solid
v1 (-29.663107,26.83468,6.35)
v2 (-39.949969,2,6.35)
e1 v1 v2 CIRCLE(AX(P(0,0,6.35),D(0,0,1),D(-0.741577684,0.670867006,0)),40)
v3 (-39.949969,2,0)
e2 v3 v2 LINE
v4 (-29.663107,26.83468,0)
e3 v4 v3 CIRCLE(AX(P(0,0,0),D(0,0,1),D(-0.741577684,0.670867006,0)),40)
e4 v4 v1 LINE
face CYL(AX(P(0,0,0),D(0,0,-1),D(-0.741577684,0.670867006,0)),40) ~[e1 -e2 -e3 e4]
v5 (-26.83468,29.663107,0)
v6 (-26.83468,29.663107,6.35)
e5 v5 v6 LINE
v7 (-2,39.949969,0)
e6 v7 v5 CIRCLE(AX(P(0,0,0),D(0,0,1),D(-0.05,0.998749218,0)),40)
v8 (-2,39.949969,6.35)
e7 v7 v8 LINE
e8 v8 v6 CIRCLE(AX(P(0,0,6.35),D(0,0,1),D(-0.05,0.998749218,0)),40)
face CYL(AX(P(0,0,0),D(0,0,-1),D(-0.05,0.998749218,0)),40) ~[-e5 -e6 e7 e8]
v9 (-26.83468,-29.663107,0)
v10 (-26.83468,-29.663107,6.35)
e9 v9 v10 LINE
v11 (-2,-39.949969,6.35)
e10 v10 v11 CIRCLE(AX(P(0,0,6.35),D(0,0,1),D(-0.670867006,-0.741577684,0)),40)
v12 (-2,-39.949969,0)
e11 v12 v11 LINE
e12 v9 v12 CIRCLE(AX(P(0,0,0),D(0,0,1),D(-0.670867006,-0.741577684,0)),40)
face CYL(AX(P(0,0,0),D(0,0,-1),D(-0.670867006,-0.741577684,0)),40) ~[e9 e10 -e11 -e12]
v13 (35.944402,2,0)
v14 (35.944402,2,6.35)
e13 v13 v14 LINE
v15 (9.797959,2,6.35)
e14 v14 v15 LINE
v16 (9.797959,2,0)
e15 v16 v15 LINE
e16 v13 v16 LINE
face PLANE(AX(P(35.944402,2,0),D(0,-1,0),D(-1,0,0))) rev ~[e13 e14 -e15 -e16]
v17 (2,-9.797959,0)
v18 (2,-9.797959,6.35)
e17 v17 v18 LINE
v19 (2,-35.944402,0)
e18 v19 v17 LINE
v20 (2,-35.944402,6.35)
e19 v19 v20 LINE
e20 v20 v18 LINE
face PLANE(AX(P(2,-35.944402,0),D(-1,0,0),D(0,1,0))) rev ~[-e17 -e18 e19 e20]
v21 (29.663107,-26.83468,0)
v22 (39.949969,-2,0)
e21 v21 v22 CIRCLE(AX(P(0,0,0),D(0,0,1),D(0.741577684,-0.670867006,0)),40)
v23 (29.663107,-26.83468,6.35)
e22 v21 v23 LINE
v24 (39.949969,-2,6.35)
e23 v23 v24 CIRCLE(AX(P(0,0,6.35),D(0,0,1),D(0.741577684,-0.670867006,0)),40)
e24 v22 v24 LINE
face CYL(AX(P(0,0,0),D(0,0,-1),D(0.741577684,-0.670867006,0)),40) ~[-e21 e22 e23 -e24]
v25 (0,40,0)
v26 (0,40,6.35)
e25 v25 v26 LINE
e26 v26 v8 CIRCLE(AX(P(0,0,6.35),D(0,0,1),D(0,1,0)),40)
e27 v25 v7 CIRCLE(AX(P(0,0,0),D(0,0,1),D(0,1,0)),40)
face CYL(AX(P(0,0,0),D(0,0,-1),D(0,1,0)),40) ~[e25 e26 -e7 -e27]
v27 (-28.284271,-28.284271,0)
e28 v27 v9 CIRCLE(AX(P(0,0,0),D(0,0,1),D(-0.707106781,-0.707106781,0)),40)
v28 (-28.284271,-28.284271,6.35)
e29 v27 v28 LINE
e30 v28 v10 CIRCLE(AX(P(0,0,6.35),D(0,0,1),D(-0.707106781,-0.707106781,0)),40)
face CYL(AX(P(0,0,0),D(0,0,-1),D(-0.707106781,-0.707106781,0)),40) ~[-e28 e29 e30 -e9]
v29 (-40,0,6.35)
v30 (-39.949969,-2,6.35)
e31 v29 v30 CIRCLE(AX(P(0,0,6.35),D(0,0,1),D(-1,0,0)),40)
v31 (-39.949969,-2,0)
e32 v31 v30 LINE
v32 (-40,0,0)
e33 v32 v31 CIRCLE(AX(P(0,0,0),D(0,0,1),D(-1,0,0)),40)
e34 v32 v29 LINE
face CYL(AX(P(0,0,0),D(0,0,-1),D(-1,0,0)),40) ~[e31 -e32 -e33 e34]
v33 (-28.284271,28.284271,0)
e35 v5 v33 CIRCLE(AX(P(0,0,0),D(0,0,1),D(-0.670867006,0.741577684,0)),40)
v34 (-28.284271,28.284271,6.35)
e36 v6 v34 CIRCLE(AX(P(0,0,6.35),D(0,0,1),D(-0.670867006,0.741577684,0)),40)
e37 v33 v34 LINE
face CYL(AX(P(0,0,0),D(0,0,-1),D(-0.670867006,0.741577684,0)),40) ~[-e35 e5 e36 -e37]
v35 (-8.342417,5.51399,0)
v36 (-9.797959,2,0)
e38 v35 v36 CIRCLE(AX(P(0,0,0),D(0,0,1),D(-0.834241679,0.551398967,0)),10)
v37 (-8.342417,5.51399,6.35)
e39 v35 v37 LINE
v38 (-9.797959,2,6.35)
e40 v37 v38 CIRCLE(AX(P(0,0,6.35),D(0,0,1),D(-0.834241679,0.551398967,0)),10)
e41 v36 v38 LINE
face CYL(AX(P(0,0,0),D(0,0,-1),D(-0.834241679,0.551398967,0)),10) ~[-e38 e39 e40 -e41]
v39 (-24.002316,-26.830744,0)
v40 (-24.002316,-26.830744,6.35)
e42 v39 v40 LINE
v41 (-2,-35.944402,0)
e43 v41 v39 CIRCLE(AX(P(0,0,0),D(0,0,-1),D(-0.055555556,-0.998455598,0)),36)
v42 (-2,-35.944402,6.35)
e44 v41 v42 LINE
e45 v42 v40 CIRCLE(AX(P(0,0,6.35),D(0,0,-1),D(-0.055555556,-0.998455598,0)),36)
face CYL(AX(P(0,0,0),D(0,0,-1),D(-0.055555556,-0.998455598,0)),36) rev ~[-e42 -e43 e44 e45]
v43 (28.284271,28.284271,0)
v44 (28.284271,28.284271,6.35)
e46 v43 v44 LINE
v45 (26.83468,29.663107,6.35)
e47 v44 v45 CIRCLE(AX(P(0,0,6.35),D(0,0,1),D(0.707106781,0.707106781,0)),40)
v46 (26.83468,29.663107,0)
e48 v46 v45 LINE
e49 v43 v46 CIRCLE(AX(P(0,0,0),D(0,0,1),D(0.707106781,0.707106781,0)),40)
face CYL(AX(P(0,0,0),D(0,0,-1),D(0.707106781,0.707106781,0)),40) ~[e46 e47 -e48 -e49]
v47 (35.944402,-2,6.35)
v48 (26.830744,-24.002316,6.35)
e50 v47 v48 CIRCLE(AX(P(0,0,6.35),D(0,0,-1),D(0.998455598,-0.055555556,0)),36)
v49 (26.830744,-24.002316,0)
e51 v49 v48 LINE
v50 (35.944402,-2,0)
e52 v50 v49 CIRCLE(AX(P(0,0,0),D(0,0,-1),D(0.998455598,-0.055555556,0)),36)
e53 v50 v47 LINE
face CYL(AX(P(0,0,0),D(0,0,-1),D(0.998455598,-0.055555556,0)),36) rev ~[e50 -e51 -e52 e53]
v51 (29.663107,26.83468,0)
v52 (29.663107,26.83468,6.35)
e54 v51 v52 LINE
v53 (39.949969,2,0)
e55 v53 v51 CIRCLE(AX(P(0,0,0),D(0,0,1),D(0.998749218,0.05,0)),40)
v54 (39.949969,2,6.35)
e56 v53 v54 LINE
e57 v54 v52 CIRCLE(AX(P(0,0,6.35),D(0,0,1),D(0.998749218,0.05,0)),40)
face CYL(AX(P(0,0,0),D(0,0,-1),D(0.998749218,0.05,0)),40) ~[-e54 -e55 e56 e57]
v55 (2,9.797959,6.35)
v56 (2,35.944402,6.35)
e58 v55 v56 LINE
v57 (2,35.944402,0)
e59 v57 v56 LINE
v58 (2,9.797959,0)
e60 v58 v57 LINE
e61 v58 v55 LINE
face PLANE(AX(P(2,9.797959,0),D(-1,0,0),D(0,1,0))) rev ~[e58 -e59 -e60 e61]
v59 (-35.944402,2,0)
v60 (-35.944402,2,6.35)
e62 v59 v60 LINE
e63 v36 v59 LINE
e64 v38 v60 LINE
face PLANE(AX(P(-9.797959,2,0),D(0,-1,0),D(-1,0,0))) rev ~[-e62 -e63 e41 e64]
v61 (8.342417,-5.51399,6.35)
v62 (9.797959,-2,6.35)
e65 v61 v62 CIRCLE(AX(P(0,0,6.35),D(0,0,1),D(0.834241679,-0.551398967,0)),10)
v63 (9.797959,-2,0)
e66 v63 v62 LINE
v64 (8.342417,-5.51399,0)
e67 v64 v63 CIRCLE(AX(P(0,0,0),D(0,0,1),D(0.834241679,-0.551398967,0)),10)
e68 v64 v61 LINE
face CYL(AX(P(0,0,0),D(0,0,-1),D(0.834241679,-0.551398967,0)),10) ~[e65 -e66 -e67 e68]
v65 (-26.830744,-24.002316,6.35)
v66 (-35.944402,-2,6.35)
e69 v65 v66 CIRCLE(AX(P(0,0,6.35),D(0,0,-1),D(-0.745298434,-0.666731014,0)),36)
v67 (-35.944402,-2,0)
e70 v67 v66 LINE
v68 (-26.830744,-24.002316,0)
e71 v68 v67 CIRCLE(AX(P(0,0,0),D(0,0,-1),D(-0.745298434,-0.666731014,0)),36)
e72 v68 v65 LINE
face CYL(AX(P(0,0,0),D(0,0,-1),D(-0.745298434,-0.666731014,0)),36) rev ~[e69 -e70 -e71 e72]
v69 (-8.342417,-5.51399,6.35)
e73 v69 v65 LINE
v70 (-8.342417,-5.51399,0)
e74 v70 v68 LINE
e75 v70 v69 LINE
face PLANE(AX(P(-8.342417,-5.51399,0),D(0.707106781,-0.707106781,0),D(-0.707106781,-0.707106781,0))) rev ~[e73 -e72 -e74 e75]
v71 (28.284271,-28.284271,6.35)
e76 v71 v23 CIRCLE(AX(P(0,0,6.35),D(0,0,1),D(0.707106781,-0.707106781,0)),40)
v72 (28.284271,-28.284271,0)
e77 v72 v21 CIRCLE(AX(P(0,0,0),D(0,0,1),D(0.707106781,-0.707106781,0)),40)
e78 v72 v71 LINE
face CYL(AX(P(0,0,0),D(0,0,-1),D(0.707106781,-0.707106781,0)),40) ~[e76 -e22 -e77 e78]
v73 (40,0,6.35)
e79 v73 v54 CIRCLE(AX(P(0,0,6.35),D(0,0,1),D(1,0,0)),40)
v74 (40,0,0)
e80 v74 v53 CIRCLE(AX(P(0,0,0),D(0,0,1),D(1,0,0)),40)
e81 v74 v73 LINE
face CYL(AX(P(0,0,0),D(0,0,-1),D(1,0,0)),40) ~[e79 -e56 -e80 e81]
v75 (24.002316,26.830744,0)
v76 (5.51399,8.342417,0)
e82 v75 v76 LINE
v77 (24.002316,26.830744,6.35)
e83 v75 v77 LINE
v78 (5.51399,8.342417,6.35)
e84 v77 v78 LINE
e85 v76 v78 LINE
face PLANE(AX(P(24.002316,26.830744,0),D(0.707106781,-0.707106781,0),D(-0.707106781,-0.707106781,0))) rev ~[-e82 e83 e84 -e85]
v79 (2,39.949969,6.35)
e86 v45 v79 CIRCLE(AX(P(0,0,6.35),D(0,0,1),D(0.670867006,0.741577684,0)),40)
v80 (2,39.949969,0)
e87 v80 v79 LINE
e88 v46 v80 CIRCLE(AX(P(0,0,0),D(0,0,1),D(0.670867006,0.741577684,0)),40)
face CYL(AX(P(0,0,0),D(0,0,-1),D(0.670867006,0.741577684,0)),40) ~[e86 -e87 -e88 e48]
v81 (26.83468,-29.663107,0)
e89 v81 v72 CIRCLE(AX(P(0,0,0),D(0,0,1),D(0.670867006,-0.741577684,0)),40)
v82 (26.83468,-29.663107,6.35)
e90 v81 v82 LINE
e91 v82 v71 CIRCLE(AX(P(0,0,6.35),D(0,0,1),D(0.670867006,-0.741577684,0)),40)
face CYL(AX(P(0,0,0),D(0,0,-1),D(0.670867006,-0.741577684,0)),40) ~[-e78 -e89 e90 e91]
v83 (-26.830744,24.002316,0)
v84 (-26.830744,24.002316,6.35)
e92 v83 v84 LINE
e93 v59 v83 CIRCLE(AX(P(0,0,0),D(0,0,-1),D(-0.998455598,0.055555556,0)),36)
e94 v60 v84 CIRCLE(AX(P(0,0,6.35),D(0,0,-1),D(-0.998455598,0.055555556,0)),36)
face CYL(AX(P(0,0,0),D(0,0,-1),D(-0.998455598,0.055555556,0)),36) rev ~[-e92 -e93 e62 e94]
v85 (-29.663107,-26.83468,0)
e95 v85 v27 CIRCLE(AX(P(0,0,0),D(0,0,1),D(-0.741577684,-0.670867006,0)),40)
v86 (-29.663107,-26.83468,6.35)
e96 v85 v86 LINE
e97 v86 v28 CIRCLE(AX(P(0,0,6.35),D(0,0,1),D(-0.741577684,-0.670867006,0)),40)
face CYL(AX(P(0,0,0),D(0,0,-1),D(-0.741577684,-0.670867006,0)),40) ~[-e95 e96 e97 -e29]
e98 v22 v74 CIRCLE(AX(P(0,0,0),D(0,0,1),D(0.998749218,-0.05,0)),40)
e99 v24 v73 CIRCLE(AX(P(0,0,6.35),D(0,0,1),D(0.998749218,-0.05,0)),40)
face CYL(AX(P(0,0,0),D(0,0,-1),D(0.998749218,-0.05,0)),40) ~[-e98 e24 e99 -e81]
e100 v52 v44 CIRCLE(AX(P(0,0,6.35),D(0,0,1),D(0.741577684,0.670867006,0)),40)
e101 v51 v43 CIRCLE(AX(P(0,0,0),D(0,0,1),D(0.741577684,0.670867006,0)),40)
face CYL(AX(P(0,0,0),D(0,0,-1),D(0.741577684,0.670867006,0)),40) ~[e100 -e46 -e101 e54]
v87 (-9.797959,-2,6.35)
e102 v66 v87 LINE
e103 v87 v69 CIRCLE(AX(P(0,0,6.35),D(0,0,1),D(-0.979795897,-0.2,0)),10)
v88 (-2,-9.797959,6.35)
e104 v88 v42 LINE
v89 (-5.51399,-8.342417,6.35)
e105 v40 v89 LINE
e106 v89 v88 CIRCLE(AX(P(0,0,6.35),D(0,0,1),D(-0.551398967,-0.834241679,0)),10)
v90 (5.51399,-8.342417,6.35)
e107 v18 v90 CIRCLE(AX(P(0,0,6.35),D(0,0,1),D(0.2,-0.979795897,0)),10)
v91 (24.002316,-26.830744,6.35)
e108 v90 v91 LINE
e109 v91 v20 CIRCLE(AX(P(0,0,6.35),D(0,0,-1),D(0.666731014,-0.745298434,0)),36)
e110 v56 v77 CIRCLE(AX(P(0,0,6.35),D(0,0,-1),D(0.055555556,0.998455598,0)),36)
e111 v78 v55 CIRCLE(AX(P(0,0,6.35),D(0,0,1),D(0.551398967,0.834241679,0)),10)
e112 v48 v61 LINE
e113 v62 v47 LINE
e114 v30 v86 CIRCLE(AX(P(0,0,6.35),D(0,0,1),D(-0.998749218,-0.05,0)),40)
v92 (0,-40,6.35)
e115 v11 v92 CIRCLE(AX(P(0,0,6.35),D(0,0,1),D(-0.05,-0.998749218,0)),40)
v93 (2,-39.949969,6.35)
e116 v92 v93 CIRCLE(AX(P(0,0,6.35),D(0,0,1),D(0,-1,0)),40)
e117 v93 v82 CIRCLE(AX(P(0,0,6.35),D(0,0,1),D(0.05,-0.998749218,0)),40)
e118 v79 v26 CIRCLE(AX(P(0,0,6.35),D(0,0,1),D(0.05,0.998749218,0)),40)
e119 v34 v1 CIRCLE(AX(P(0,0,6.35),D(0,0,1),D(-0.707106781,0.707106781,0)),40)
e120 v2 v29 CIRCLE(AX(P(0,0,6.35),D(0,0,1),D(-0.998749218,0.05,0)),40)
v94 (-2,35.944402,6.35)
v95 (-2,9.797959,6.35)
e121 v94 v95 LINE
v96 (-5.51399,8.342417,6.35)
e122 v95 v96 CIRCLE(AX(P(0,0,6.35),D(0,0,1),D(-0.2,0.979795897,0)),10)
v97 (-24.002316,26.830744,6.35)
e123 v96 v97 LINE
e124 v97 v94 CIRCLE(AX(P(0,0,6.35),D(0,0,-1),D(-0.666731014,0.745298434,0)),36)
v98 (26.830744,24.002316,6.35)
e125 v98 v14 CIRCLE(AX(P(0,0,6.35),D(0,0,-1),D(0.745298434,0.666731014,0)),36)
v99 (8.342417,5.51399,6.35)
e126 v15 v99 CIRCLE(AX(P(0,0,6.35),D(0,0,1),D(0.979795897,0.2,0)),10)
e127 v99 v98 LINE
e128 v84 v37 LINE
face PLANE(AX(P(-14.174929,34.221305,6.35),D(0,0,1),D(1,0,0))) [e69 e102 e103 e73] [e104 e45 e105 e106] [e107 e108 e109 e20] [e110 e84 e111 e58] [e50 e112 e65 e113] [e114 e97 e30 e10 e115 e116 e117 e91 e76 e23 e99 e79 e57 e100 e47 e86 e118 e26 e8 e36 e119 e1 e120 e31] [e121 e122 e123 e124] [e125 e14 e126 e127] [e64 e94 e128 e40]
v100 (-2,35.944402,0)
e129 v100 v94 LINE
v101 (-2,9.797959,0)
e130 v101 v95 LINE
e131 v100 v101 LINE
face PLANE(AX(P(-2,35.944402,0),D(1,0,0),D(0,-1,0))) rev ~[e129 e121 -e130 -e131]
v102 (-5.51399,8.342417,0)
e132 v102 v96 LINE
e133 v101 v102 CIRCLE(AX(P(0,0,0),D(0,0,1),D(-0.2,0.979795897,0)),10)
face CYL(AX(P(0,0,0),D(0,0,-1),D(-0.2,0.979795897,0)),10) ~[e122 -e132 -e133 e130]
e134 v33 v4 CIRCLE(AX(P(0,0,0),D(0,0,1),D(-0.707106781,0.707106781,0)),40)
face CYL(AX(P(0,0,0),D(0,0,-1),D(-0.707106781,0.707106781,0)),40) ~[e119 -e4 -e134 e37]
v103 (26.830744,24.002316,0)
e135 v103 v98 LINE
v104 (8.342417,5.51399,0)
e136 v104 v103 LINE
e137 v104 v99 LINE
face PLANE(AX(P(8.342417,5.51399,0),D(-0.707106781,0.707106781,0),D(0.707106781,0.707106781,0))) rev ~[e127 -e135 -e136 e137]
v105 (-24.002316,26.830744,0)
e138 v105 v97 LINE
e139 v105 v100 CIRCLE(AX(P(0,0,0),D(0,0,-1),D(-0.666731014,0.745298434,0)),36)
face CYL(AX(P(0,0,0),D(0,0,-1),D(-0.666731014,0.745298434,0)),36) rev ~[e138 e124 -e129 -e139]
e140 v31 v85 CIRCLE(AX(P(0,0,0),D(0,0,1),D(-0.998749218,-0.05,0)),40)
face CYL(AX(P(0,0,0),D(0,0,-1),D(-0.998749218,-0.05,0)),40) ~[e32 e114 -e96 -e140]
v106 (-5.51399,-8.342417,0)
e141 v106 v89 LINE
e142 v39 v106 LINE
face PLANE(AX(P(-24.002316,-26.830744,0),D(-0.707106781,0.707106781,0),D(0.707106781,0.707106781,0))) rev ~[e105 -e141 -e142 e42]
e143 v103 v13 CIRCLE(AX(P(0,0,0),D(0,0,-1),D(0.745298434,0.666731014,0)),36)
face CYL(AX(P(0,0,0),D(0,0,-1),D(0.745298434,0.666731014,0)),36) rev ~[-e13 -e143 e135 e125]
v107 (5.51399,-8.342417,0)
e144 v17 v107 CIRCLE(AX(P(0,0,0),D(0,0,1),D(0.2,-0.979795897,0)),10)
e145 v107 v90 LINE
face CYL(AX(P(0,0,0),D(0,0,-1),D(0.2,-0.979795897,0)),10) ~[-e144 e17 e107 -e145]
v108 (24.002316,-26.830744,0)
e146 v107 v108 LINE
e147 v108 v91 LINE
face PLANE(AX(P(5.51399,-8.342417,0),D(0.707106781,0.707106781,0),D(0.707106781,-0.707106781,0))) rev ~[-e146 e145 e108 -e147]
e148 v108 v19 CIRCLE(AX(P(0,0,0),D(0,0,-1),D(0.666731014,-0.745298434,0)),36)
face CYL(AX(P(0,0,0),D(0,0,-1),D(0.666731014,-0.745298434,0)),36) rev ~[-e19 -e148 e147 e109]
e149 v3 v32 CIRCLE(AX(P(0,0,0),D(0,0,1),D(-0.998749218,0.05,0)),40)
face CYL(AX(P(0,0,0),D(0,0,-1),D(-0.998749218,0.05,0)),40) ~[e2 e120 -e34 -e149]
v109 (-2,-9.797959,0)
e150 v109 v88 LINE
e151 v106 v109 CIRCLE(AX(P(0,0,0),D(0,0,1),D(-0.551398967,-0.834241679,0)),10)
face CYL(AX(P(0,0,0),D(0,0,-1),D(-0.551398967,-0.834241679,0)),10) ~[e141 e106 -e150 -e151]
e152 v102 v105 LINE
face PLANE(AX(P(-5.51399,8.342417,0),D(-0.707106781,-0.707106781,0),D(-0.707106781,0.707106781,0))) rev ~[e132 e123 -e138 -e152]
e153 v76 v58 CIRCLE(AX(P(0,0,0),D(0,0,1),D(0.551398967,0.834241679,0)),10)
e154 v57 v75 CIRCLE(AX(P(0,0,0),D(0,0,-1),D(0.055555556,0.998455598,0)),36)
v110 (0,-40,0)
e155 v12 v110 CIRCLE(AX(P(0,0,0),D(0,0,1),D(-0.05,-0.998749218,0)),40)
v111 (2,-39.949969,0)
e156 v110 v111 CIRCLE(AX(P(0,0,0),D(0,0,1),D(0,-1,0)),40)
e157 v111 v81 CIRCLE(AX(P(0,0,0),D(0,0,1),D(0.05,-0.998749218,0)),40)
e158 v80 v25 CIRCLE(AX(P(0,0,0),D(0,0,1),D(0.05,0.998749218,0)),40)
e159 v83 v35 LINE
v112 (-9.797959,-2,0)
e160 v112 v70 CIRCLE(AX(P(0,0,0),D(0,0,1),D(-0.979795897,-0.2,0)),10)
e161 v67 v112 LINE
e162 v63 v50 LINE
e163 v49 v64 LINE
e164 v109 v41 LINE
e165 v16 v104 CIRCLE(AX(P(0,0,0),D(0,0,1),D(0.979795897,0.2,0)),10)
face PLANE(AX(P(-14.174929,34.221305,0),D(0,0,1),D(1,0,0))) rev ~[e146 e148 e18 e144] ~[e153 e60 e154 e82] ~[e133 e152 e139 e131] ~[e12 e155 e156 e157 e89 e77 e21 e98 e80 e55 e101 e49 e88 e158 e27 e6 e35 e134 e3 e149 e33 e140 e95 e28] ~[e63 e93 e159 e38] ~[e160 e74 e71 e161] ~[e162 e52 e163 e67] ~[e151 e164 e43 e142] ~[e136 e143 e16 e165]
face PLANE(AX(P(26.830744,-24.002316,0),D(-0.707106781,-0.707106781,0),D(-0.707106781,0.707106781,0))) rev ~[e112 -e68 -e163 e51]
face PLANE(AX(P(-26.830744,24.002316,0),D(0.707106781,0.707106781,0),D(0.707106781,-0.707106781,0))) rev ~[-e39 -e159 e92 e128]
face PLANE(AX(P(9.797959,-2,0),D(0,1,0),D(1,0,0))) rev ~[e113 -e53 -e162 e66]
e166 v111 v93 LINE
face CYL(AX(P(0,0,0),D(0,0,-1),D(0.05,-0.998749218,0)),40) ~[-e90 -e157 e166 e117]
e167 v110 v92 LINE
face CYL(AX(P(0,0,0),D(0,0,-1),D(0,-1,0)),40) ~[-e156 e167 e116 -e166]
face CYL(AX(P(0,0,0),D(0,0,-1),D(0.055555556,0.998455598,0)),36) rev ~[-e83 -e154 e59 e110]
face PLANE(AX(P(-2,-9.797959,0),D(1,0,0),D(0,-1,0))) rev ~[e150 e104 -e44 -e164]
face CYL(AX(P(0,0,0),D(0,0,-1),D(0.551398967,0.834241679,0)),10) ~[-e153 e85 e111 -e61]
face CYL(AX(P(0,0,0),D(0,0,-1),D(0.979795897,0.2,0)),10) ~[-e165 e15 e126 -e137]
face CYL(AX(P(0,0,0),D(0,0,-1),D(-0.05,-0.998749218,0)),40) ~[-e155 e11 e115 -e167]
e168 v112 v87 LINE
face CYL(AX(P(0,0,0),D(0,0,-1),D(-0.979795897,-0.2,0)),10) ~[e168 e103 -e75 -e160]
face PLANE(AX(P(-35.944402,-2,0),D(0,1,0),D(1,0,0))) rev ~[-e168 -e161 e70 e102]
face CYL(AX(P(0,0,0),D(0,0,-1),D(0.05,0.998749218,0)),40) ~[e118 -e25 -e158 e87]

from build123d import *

# Parameters (mm, degrees)
F1_DEPTH = 6.35


with BuildPart() as f1:
    # F0 (on Top) → F1 (new body)
    with BuildSketch(Plane.XY):
        with BuildLine():
            ThreePointArc((-24.0023164919, 26.8307436167), (-13.7766035651, 33.2596631704), (-2, 35.9444015112))
            Line((-2, 35.9444015112), (-2, 39.9499687109))
            ThreePointArc((-2, 39.9499687109), (-15.3073372946, 36.9551813005), (-26.8346802213, 29.663107346))
            Line((-26.8346802213, 29.663107346), (-24.0023164919, 26.8307436167))
        make_face()
        with BuildLine():
            Line((2, 35.9444015112), (2, 39.9499687109))
            ThreePointArc((2, 39.9499687109), (1.0003128423, 39.9874902215), (0, 40))
            ThreePointArc((0, 40), (-1.0003128423, 39.9874902215), (-2, 39.9499687109))
            Line((-2, 39.9499687109), (-2, 35.9444015112))
            ThreePointArc((-2, 35.9444015112), (0, 36), (2, 35.9444015112))
        make_face()
        with BuildLine():
            Line((24.0023164919, 26.8307436167), (26.8346802213, 29.663107346))
            ThreePointArc((26.8346802213, 29.663107346), (15.3073372946, 36.9551813005), (2, 39.9499687109))
            Line((2, 39.9499687109), (2, 35.9444015112))
            ThreePointArc((2, 35.9444015112), (13.7766035651, 33.2596631704), (24.0023164919, 26.8307436167))
        make_face()
        with BuildLine():
            Line((26.8307436167, 24.0023164919), (29.663107346, 26.8346802213))
            ThreePointArc((29.663107346, 26.8346802213), (28.9827534924, 27.5680975042), (28.2842712475, 28.2842712475))
            ThreePointArc((28.2842712475, 28.2842712475), (27.5680975042, 28.9827534924), (26.8346802213, 29.663107346))
            Line((26.8346802213, 29.663107346), (24.0023164919, 26.8307436167))
            ThreePointArc((24.0023164919, 26.8307436167), (25.4558441227, 25.4558441227), (26.8307436167, 24.0023164919))
        make_face()
        with BuildLine():
            Line((35.9444015112, 2), (39.9499687109, 2))
            ThreePointArc((39.9499687109, 2), (36.9551813005, 15.3073372946), (29.663107346, 26.8346802213))
            Line((29.663107346, 26.8346802213), (26.8307436167, 24.0023164919))
            ThreePointArc((26.8307436167, 24.0023164919), (33.2596631704, 13.7766035651), (35.9444015112, 2))
        make_face()
        with BuildLine():
            ThreePointArc((39.9499687109, -2), (39.9874902215, -1.0003128423), (40, 0))
            ThreePointArc((40, 0), (39.9874902215, 1.0003128423), (39.9499687109, 2))
            Line((39.9499687109, 2), (35.9444015112, 2))
            ThreePointArc((35.9444015112, 2), (35.9860976934, 1.0003863244), (36, 0))
            ThreePointArc((36, 0), (35.9860976934, -1.0003863244), (35.9444015112, -2))
            Line((35.9444015112, -2), (39.9499687109, -2))
        make_face()
        with BuildLine():
            ThreePointArc((29.663107346, -26.8346802213), (36.9551813005, -15.3073372946), (39.9499687109, -2))
            Line((39.9499687109, -2), (35.9444015112, -2))
            ThreePointArc((35.9444015112, -2), (33.2596631704, -13.7766035651), (26.8307436167, -24.0023164919))
            Line((26.8307436167, -24.0023164919), (29.663107346, -26.8346802213))
        make_face()
        with BuildLine():
            ThreePointArc((28.2842712475, -28.2842712475), (28.9827534924, -27.5680975042), (29.663107346, -26.8346802213))
            Line((29.663107346, -26.8346802213), (26.8307436167, -24.0023164919))
            ThreePointArc((26.8307436167, -24.0023164919), (25.4558441227, -25.4558441227), (24.0023164919, -26.8307436167))
            Line((24.0023164919, -26.8307436167), (26.8346802213, -29.663107346))
            ThreePointArc((26.8346802213, -29.663107346), (27.5680975042, -28.9827534924), (28.2842712475, -28.2842712475))
        make_face()
        with BuildLine():
            ThreePointArc((2, -39.9499687109), (15.3073372946, -36.9551813005), (26.8346802213, -29.663107346))
            Line((26.8346802213, -29.663107346), (24.0023164919, -26.8307436167))
            ThreePointArc((24.0023164919, -26.8307436167), (13.7766035651, -33.2596631704), (2, -35.9444015112))
            Line((2, -35.9444015112), (2, -39.9499687109))
        make_face()
        with BuildLine():
            ThreePointArc((0, -40), (1.0003128423, -39.9874902215), (2, -39.9499687109))
            Line((2, -39.9499687109), (2, -35.9444015112))
            ThreePointArc((2, -35.9444015112), (0, -36), (-2, -35.9444015112))
            Line((-2, -35.9444015112), (-2, -39.9499687109))
            ThreePointArc((-2, -39.9499687109), (-1.0003128423, -39.9874902215), (0, -40))
        make_face()
        with BuildLine():
            Line((-2, -39.9499687109), (-2, -35.9444015112))
            ThreePointArc((-2, -35.9444015112), (-13.7766035651, -33.2596631704), (-24.0023164919, -26.8307436167))
            Line((-24.0023164919, -26.8307436167), (-26.8346802213, -29.663107346))
            ThreePointArc((-26.8346802213, -29.663107346), (-15.3073372946, -36.9551813005), (-2, -39.9499687109))
        make_face()
        with BuildLine():
            Line((-26.8346802213, -29.663107346), (-24.0023164919, -26.8307436167))
            ThreePointArc((-24.0023164919, -26.8307436167), (-25.4558441227, -25.4558441227), (-26.8307436167, -24.0023164919))
            Line((-26.8307436167, -24.0023164919), (-29.663107346, -26.8346802213))
            ThreePointArc((-29.663107346, -26.8346802213), (-28.9827534924, -27.5680975042), (-28.2842712475, -28.2842712475))
            ThreePointArc((-28.2842712475, -28.2842712475), (-27.5680975042, -28.9827534924), (-26.8346802213, -29.663107346))
        make_face()
        with BuildLine():
            Line((-29.663107346, -26.8346802213), (-26.8307436167, -24.0023164919))
            ThreePointArc((-26.8307436167, -24.0023164919), (-33.2596631704, -13.7766035651), (-35.9444015112, -2))
            Line((-35.9444015112, -2), (-39.9499687109, -2))
            ThreePointArc((-39.9499687109, -2), (-36.9551813005, -15.3073372946), (-29.663107346, -26.8346802213))
        make_face()
        with BuildLine():
            ThreePointArc((-35.9444015112, -2), (-36, 0), (-35.9444015112, 2))
            Line((-35.9444015112, 2), (-39.9499687109, 2))
            ThreePointArc((-39.9499687109, 2), (-39.9874902215, 1.0003128423), (-40, 0))
            ThreePointArc((-40, 0), (-39.9874902215, -1.0003128423), (-39.9499687109, -2))
            Line((-39.9499687109, -2), (-35.9444015112, -2))
        make_face()
        with BuildLine():
            ThreePointArc((-35.9444015112, 2), (-33.2596631704, 13.7766035651), (-26.8307436167, 24.0023164919))
            Line((-26.8307436167, 24.0023164919), (-29.663107346, 26.8346802213))
            ThreePointArc((-29.663107346, 26.8346802213), (-36.9551813005, 15.3073372946), (-39.9499687109, 2))
            Line((-39.9499687109, 2), (-35.9444015112, 2))
        make_face()
        with BuildLine():
            ThreePointArc((-26.8307436167, 24.0023164919), (-25.4558441227, 25.4558441227), (-24.0023164919, 26.8307436167))
            Line((-24.0023164919, 26.8307436167), (-26.8346802213, 29.663107346))
            ThreePointArc((-26.8346802213, 29.663107346), (-27.5680974995, 28.9827534968), (-28.2842712383, 28.2842712566))
            ThreePointArc((-28.2842712383, 28.2842712566), (-28.9827534879, 27.5680975089), (-29.663107346, 26.8346802213))
            Line((-29.663107346, 26.8346802213), (-26.8307436167, 24.0023164919))
        make_face()
        with BuildLine():
            Line((2, 9.7979589711), (2, 35.9444015112))
            ThreePointArc((2, 35.9444015112), (0, 36), (-2, 35.9444015112))
            Line((-2, 35.9444015112), (-2, 9.7979589711))
            ThreePointArc((-2, 9.7979589711), (0, 10), (2, 9.7979589711))
        make_face()
        with BuildLine():
            Line((8.3424167926, 5.5139896679), (26.8307436167, 24.0023164919))
            ThreePointArc((26.8307436167, 24.0023164919), (25.4558441227, 25.4558441227), (24.0023164919, 26.8307436167))
            Line((24.0023164919, 26.8307436167), (5.5139896679, 8.3424167926))
            ThreePointArc((5.5139896679, 8.3424167926), (7.0710678119, 7.0710678119), (8.3424167926, 5.5139896679))
        make_face()
        with BuildLine():
            ThreePointArc((36, 0), (35.9860976934, 1.0003863244), (35.9444015112, 2))
            Line((35.9444015112, 2), (9.7979589711, 2))
            ThreePointArc((9.7979589711, 2), (9.9493615301, 1.0050896201), (10, 0))
            ThreePointArc((10, 0), (9.9493615301, -1.0050896201), (9.7979589711, -2))
            Line((9.7979589711, -2), (35.9444015112, -2))
            ThreePointArc((35.9444015112, -2), (35.9860976934, -1.0003863244), (36, 0))
        make_face()
        with BuildLine():
            Line((-5.5139896679, 8.3424167926), (-24.0023164919, 26.8307436167))
            ThreePointArc((-24.0023164919, 26.8307436167), (-25.4558441227, 25.4558441227), (-26.8307436167, 24.0023164919))
            Line((-26.8307436167, 24.0023164919), (-8.3424167926, 5.5139896679))
            ThreePointArc((-8.3424167926, 5.5139896679), (-7.0710678119, 7.0710678119), (-5.5139896679, 8.3424167926))
        make_face()
        with BuildLine():
            Line((-9.7979589711, 2), (-35.9444015112, 2))
            ThreePointArc((-35.9444015112, 2), (-36, 0), (-35.9444015112, -2))
            Line((-35.9444015112, -2), (-9.7979589711, -2))
            ThreePointArc((-9.7979589711, -2), (-10, 0), (-9.7979589711, 2))
        make_face()
        with BuildLine():
            ThreePointArc((-26.8307436167, -24.0023164919), (-25.4558441227, -25.4558441227), (-24.0023164919, -26.8307436167))
            Line((-24.0023164919, -26.8307436167), (-5.5139896679, -8.3424167926))
            ThreePointArc((-5.5139896679, -8.3424167926), (-7.0710678119, -7.0710678119), (-8.3424167926, -5.5139896679))
            Line((-8.3424167926, -5.5139896679), (-26.8307436167, -24.0023164919))
        make_face()
        with BuildLine():
            ThreePointArc((-2, -35.9444015112), (0, -36), (2, -35.9444015112))
            Line((2, -35.9444015112), (2, -9.7979589711))
            ThreePointArc((2, -9.7979589711), (0, -10), (-2, -9.7979589711))
            Line((-2, -9.7979589711), (-2, -35.9444015112))
        make_face()
        with BuildLine():
            ThreePointArc((24.0023164919, -26.8307436167), (25.4558441227, -25.4558441227), (26.8307436167, -24.0023164919))
            Line((26.8307436167, -24.0023164919), (8.3424167926, -5.5139896679))
            ThreePointArc((8.3424167926, -5.5139896679), (7.0710678119, -7.0710678119), (5.5139896679, -8.3424167926))
            Line((5.5139896679, -8.3424167926), (24.0023164919, -26.8307436167))
        make_face()
        with BuildLine():
            ThreePointArc((10, 0), (9.9493615301, 1.0050896201), (9.7979589711, 2))
            Line((9.7979589711, 2), (4.8284271247, 2))
            Line((4.8284271247, 2), (2.8284271247, 0))
            Line((2.8284271247, 0), (4.8284271247, -2))
            Line((4.8284271247, -2), (9.7979589711, -2))
            ThreePointArc((9.7979589711, -2), (9.9493615301, -1.0050896201), (10, 0))
        make_face()
        with BuildLine():
            Line((4.8284271247, 2), (9.7979589711, 2))
            ThreePointArc((9.7979589711, 2), (9.2387953251, 3.8268343237), (8.3424167926, 5.5139896679))
            Line((8.3424167926, 5.5139896679), (4.8284271247, 2))
        make_face()
        with BuildLine():
            Line((4.8284271247, 2), (8.3424167926, 5.5139896679))
            ThreePointArc((8.3424167926, 5.5139896679), (7.0710678119, 7.0710678119), (5.5139896679, 8.3424167926))
            Line((5.5139896679, 8.3424167926), (2, 4.8284271247))
            Line((2, 4.8284271247), (2, 2))
            Line((2, 2), (4.8284271247, 2))
        make_face()
        with BuildLine():
            Line((2, 4.8284271247), (5.5139896679, 8.3424167926))
            ThreePointArc((5.5139896679, 8.3424167926), (3.8268343237, 9.2387953251), (2, 9.7979589711))
            Line((2, 9.7979589711), (2, 4.8284271247))
        make_face()
        with BuildLine():
            Line((2, 4.8284271247), (2, 9.7979589711))
            ThreePointArc((2, 9.7979589711), (0, 10), (-2, 9.7979589711))
            Line((-2, 9.7979589711), (-2, 4.8284271247))
            Line((-2, 4.8284271247), (0, 2.8284271247))
            Line((0, 2.8284271247), (2, 4.8284271247))
        make_face()
        with BuildLine():
            Line((-2, 4.8284271247), (-2, 9.7979589711))
            ThreePointArc((-2, 9.7979589711), (-3.8268343237, 9.2387953251), (-5.5139896679, 8.3424167926))
            Line((-5.5139896679, 8.3424167926), (-2, 4.8284271247))
        make_face()
        with BuildLine():
            Line((-2, 4.8284271247), (-5.5139896679, 8.3424167926))
            ThreePointArc((-5.5139896679, 8.3424167926), (-7.0710678119, 7.0710678119), (-8.3424167926, 5.5139896679))
            Line((-8.3424167926, 5.5139896679), (-4.8284271247, 2))
            Line((-4.8284271247, 2), (-2, 2))
            Line((-2, 2), (-2, 4.8284271247))
        make_face()
        with BuildLine():
            ThreePointArc((2, -9.7979589711), (3.8268343237, -9.2387953251), (5.5139896679, -8.3424167926))
            Line((5.5139896679, -8.3424167926), (2, -4.8284271247))
            Line((2, -4.8284271247), (2, -9.7979589711))
        make_face()
        with BuildLine():
            ThreePointArc((5.5139896679, -8.3424167926), (7.0710678119, -7.0710678119), (8.3424167926, -5.5139896679))
            Line((8.3424167926, -5.5139896679), (4.8284271247, -2))
            Line((4.8284271247, -2), (2, -2))
            Line((2, -2), (2, -4.8284271247))
            Line((2, -4.8284271247), (5.5139896679, -8.3424167926))
        make_face()
        with BuildLine():
            ThreePointArc((8.3424167926, -5.5139896679), (9.2387953251, -3.8268343237), (9.7979589711, -2))
            Line((9.7979589711, -2), (4.8284271247, -2))
            Line((4.8284271247, -2), (8.3424167926, -5.5139896679))
        make_face()
        Polygon((2, -2), (4.8284271247, -2), (2.8284271247, 0), (2, -0.8284271247), align=None)
        Polygon((2, -4.8284271247), (2, -2), (0.8284271247, -2), (0, -2.8284271247), align=None)
        with BuildLine():
            ThreePointArc((-5.5139896679, -8.3424167926), (-3.8268343237, -9.2387953251), (-2, -9.7979589711))
            Line((-2, -9.7979589711), (-2, -4.8284271247))
            Line((-2, -4.8284271247), (-5.5139896679, -8.3424167926))
        make_face()
        with BuildLine():
            ThreePointArc((-2, -9.7979589711), (0, -10), (2, -9.7979589711))
            Line((2, -9.7979589711), (2, -4.8284271247))
            Line((2, -4.8284271247), (0, -2.8284271247))
            Line((0, -2.8284271247), (-2, -4.8284271247))
            Line((-2, -4.8284271247), (-2, -9.7979589711))
        make_face()
        with BuildLine():
            ThreePointArc((-8.3424167926, -5.5139896679), (-7.0710678119, -7.0710678119), (-5.5139896679, -8.3424167926))
            Line((-5.5139896679, -8.3424167926), (-2, -4.8284271247))
            Line((-2, -4.8284271247), (-2, -2))
            Line((-2, -2), (-4.8284271247, -2))
            Line((-4.8284271247, -2), (-8.3424167926, -5.5139896679))
        make_face()
        with BuildLine():
            ThreePointArc((-9.7979589711, -2), (-9.2387953251, -3.8268343237), (-8.3424167926, -5.5139896679))
            Line((-8.3424167926, -5.5139896679), (-4.8284271247, -2))
            Line((-4.8284271247, -2), (-9.7979589711, -2))
        make_face()
        with BuildLine():
            Line((-2.8284271247, 0), (-4.8284271247, 2))
            Line((-4.8284271247, 2), (-9.7979589711, 2))
            ThreePointArc((-9.7979589711, 2), (-10, 0), (-9.7979589711, -2))
            Line((-9.7979589711, -2), (-4.8284271247, -2))
            Line((-4.8284271247, -2), (-2.8284271247, 0))
        make_face()
        with BuildLine():
            Line((-4.8284271247, 2), (-8.3424167926, 5.5139896679))
            ThreePointArc((-8.3424167926, 5.5139896679), (-9.2387953251, 3.8268343237), (-9.7979589711, 2))
            Line((-9.7979589711, 2), (-4.8284271247, 2))
        make_face()
        Polygon((-4.8284271247, -2), (-2, -2), (-2, -0.8284271247), (-2.8284271247, 0), align=None)
        Polygon((-2, -4.8284271247), (0, -2.8284271247), (-0.8284271247, -2), (-2, -2), align=None)
        Polygon((0, -2.8284271247), (0.8284271247, -2), (-0.8284271247, -2), align=None)
        Polygon((0.8284271247, -2), (2, -2), (2, -0.8284271247), align=None)
        Polygon((2, -0.8284271247), (2.8284271247, 0), (2, 0.8284271247), align=None)
        Polygon((2.8284271247, 0), (4.8284271247, 2), (2, 2), (2, 0.8284271247), align=None)
        Polygon((0.8284271247, 2), (2, 2), (2, 4.8284271247), (0, 2.8284271247), align=None)
        Polygon((2, 0.8284271247), (2, 2), (0.8284271247, 2), align=None)
        Polygon((-0.8284271247, 2), (0, 2.8284271247), (-2, 4.8284271247), (-2, 2), align=None)
        Polygon((-0.8284271247, 2), (0.8284271247, 2), (0, 2.8284271247), align=None)
        Polygon((-2, 0.8284271247), (-2, 2), (-4.8284271247, 2), (-2.8284271247, 0), align=None)
        Polygon((2, -0.8284271247), (2, 0.8284271247), (0.8284271247, 2), (-0.8284271247, 2), (-2, 0.8284271247), (-2, -0.8284271247), (-0.8284271247, -2), (0.8284271247, -2), align=None)
        Polygon((-2, 0.8284271247), (-0.8284271247, 2), (-2, 2), align=None)
        Polygon((-2, -0.8284271247), (-2, 0.8284271247), (-2.8284271247, 0), align=None)
        Polygon((-2, -2), (-0.8284271247, -2), (-2, -0.8284271247), align=None)
    extrude(amount=F1_DEPTH)


solid = f1.part
